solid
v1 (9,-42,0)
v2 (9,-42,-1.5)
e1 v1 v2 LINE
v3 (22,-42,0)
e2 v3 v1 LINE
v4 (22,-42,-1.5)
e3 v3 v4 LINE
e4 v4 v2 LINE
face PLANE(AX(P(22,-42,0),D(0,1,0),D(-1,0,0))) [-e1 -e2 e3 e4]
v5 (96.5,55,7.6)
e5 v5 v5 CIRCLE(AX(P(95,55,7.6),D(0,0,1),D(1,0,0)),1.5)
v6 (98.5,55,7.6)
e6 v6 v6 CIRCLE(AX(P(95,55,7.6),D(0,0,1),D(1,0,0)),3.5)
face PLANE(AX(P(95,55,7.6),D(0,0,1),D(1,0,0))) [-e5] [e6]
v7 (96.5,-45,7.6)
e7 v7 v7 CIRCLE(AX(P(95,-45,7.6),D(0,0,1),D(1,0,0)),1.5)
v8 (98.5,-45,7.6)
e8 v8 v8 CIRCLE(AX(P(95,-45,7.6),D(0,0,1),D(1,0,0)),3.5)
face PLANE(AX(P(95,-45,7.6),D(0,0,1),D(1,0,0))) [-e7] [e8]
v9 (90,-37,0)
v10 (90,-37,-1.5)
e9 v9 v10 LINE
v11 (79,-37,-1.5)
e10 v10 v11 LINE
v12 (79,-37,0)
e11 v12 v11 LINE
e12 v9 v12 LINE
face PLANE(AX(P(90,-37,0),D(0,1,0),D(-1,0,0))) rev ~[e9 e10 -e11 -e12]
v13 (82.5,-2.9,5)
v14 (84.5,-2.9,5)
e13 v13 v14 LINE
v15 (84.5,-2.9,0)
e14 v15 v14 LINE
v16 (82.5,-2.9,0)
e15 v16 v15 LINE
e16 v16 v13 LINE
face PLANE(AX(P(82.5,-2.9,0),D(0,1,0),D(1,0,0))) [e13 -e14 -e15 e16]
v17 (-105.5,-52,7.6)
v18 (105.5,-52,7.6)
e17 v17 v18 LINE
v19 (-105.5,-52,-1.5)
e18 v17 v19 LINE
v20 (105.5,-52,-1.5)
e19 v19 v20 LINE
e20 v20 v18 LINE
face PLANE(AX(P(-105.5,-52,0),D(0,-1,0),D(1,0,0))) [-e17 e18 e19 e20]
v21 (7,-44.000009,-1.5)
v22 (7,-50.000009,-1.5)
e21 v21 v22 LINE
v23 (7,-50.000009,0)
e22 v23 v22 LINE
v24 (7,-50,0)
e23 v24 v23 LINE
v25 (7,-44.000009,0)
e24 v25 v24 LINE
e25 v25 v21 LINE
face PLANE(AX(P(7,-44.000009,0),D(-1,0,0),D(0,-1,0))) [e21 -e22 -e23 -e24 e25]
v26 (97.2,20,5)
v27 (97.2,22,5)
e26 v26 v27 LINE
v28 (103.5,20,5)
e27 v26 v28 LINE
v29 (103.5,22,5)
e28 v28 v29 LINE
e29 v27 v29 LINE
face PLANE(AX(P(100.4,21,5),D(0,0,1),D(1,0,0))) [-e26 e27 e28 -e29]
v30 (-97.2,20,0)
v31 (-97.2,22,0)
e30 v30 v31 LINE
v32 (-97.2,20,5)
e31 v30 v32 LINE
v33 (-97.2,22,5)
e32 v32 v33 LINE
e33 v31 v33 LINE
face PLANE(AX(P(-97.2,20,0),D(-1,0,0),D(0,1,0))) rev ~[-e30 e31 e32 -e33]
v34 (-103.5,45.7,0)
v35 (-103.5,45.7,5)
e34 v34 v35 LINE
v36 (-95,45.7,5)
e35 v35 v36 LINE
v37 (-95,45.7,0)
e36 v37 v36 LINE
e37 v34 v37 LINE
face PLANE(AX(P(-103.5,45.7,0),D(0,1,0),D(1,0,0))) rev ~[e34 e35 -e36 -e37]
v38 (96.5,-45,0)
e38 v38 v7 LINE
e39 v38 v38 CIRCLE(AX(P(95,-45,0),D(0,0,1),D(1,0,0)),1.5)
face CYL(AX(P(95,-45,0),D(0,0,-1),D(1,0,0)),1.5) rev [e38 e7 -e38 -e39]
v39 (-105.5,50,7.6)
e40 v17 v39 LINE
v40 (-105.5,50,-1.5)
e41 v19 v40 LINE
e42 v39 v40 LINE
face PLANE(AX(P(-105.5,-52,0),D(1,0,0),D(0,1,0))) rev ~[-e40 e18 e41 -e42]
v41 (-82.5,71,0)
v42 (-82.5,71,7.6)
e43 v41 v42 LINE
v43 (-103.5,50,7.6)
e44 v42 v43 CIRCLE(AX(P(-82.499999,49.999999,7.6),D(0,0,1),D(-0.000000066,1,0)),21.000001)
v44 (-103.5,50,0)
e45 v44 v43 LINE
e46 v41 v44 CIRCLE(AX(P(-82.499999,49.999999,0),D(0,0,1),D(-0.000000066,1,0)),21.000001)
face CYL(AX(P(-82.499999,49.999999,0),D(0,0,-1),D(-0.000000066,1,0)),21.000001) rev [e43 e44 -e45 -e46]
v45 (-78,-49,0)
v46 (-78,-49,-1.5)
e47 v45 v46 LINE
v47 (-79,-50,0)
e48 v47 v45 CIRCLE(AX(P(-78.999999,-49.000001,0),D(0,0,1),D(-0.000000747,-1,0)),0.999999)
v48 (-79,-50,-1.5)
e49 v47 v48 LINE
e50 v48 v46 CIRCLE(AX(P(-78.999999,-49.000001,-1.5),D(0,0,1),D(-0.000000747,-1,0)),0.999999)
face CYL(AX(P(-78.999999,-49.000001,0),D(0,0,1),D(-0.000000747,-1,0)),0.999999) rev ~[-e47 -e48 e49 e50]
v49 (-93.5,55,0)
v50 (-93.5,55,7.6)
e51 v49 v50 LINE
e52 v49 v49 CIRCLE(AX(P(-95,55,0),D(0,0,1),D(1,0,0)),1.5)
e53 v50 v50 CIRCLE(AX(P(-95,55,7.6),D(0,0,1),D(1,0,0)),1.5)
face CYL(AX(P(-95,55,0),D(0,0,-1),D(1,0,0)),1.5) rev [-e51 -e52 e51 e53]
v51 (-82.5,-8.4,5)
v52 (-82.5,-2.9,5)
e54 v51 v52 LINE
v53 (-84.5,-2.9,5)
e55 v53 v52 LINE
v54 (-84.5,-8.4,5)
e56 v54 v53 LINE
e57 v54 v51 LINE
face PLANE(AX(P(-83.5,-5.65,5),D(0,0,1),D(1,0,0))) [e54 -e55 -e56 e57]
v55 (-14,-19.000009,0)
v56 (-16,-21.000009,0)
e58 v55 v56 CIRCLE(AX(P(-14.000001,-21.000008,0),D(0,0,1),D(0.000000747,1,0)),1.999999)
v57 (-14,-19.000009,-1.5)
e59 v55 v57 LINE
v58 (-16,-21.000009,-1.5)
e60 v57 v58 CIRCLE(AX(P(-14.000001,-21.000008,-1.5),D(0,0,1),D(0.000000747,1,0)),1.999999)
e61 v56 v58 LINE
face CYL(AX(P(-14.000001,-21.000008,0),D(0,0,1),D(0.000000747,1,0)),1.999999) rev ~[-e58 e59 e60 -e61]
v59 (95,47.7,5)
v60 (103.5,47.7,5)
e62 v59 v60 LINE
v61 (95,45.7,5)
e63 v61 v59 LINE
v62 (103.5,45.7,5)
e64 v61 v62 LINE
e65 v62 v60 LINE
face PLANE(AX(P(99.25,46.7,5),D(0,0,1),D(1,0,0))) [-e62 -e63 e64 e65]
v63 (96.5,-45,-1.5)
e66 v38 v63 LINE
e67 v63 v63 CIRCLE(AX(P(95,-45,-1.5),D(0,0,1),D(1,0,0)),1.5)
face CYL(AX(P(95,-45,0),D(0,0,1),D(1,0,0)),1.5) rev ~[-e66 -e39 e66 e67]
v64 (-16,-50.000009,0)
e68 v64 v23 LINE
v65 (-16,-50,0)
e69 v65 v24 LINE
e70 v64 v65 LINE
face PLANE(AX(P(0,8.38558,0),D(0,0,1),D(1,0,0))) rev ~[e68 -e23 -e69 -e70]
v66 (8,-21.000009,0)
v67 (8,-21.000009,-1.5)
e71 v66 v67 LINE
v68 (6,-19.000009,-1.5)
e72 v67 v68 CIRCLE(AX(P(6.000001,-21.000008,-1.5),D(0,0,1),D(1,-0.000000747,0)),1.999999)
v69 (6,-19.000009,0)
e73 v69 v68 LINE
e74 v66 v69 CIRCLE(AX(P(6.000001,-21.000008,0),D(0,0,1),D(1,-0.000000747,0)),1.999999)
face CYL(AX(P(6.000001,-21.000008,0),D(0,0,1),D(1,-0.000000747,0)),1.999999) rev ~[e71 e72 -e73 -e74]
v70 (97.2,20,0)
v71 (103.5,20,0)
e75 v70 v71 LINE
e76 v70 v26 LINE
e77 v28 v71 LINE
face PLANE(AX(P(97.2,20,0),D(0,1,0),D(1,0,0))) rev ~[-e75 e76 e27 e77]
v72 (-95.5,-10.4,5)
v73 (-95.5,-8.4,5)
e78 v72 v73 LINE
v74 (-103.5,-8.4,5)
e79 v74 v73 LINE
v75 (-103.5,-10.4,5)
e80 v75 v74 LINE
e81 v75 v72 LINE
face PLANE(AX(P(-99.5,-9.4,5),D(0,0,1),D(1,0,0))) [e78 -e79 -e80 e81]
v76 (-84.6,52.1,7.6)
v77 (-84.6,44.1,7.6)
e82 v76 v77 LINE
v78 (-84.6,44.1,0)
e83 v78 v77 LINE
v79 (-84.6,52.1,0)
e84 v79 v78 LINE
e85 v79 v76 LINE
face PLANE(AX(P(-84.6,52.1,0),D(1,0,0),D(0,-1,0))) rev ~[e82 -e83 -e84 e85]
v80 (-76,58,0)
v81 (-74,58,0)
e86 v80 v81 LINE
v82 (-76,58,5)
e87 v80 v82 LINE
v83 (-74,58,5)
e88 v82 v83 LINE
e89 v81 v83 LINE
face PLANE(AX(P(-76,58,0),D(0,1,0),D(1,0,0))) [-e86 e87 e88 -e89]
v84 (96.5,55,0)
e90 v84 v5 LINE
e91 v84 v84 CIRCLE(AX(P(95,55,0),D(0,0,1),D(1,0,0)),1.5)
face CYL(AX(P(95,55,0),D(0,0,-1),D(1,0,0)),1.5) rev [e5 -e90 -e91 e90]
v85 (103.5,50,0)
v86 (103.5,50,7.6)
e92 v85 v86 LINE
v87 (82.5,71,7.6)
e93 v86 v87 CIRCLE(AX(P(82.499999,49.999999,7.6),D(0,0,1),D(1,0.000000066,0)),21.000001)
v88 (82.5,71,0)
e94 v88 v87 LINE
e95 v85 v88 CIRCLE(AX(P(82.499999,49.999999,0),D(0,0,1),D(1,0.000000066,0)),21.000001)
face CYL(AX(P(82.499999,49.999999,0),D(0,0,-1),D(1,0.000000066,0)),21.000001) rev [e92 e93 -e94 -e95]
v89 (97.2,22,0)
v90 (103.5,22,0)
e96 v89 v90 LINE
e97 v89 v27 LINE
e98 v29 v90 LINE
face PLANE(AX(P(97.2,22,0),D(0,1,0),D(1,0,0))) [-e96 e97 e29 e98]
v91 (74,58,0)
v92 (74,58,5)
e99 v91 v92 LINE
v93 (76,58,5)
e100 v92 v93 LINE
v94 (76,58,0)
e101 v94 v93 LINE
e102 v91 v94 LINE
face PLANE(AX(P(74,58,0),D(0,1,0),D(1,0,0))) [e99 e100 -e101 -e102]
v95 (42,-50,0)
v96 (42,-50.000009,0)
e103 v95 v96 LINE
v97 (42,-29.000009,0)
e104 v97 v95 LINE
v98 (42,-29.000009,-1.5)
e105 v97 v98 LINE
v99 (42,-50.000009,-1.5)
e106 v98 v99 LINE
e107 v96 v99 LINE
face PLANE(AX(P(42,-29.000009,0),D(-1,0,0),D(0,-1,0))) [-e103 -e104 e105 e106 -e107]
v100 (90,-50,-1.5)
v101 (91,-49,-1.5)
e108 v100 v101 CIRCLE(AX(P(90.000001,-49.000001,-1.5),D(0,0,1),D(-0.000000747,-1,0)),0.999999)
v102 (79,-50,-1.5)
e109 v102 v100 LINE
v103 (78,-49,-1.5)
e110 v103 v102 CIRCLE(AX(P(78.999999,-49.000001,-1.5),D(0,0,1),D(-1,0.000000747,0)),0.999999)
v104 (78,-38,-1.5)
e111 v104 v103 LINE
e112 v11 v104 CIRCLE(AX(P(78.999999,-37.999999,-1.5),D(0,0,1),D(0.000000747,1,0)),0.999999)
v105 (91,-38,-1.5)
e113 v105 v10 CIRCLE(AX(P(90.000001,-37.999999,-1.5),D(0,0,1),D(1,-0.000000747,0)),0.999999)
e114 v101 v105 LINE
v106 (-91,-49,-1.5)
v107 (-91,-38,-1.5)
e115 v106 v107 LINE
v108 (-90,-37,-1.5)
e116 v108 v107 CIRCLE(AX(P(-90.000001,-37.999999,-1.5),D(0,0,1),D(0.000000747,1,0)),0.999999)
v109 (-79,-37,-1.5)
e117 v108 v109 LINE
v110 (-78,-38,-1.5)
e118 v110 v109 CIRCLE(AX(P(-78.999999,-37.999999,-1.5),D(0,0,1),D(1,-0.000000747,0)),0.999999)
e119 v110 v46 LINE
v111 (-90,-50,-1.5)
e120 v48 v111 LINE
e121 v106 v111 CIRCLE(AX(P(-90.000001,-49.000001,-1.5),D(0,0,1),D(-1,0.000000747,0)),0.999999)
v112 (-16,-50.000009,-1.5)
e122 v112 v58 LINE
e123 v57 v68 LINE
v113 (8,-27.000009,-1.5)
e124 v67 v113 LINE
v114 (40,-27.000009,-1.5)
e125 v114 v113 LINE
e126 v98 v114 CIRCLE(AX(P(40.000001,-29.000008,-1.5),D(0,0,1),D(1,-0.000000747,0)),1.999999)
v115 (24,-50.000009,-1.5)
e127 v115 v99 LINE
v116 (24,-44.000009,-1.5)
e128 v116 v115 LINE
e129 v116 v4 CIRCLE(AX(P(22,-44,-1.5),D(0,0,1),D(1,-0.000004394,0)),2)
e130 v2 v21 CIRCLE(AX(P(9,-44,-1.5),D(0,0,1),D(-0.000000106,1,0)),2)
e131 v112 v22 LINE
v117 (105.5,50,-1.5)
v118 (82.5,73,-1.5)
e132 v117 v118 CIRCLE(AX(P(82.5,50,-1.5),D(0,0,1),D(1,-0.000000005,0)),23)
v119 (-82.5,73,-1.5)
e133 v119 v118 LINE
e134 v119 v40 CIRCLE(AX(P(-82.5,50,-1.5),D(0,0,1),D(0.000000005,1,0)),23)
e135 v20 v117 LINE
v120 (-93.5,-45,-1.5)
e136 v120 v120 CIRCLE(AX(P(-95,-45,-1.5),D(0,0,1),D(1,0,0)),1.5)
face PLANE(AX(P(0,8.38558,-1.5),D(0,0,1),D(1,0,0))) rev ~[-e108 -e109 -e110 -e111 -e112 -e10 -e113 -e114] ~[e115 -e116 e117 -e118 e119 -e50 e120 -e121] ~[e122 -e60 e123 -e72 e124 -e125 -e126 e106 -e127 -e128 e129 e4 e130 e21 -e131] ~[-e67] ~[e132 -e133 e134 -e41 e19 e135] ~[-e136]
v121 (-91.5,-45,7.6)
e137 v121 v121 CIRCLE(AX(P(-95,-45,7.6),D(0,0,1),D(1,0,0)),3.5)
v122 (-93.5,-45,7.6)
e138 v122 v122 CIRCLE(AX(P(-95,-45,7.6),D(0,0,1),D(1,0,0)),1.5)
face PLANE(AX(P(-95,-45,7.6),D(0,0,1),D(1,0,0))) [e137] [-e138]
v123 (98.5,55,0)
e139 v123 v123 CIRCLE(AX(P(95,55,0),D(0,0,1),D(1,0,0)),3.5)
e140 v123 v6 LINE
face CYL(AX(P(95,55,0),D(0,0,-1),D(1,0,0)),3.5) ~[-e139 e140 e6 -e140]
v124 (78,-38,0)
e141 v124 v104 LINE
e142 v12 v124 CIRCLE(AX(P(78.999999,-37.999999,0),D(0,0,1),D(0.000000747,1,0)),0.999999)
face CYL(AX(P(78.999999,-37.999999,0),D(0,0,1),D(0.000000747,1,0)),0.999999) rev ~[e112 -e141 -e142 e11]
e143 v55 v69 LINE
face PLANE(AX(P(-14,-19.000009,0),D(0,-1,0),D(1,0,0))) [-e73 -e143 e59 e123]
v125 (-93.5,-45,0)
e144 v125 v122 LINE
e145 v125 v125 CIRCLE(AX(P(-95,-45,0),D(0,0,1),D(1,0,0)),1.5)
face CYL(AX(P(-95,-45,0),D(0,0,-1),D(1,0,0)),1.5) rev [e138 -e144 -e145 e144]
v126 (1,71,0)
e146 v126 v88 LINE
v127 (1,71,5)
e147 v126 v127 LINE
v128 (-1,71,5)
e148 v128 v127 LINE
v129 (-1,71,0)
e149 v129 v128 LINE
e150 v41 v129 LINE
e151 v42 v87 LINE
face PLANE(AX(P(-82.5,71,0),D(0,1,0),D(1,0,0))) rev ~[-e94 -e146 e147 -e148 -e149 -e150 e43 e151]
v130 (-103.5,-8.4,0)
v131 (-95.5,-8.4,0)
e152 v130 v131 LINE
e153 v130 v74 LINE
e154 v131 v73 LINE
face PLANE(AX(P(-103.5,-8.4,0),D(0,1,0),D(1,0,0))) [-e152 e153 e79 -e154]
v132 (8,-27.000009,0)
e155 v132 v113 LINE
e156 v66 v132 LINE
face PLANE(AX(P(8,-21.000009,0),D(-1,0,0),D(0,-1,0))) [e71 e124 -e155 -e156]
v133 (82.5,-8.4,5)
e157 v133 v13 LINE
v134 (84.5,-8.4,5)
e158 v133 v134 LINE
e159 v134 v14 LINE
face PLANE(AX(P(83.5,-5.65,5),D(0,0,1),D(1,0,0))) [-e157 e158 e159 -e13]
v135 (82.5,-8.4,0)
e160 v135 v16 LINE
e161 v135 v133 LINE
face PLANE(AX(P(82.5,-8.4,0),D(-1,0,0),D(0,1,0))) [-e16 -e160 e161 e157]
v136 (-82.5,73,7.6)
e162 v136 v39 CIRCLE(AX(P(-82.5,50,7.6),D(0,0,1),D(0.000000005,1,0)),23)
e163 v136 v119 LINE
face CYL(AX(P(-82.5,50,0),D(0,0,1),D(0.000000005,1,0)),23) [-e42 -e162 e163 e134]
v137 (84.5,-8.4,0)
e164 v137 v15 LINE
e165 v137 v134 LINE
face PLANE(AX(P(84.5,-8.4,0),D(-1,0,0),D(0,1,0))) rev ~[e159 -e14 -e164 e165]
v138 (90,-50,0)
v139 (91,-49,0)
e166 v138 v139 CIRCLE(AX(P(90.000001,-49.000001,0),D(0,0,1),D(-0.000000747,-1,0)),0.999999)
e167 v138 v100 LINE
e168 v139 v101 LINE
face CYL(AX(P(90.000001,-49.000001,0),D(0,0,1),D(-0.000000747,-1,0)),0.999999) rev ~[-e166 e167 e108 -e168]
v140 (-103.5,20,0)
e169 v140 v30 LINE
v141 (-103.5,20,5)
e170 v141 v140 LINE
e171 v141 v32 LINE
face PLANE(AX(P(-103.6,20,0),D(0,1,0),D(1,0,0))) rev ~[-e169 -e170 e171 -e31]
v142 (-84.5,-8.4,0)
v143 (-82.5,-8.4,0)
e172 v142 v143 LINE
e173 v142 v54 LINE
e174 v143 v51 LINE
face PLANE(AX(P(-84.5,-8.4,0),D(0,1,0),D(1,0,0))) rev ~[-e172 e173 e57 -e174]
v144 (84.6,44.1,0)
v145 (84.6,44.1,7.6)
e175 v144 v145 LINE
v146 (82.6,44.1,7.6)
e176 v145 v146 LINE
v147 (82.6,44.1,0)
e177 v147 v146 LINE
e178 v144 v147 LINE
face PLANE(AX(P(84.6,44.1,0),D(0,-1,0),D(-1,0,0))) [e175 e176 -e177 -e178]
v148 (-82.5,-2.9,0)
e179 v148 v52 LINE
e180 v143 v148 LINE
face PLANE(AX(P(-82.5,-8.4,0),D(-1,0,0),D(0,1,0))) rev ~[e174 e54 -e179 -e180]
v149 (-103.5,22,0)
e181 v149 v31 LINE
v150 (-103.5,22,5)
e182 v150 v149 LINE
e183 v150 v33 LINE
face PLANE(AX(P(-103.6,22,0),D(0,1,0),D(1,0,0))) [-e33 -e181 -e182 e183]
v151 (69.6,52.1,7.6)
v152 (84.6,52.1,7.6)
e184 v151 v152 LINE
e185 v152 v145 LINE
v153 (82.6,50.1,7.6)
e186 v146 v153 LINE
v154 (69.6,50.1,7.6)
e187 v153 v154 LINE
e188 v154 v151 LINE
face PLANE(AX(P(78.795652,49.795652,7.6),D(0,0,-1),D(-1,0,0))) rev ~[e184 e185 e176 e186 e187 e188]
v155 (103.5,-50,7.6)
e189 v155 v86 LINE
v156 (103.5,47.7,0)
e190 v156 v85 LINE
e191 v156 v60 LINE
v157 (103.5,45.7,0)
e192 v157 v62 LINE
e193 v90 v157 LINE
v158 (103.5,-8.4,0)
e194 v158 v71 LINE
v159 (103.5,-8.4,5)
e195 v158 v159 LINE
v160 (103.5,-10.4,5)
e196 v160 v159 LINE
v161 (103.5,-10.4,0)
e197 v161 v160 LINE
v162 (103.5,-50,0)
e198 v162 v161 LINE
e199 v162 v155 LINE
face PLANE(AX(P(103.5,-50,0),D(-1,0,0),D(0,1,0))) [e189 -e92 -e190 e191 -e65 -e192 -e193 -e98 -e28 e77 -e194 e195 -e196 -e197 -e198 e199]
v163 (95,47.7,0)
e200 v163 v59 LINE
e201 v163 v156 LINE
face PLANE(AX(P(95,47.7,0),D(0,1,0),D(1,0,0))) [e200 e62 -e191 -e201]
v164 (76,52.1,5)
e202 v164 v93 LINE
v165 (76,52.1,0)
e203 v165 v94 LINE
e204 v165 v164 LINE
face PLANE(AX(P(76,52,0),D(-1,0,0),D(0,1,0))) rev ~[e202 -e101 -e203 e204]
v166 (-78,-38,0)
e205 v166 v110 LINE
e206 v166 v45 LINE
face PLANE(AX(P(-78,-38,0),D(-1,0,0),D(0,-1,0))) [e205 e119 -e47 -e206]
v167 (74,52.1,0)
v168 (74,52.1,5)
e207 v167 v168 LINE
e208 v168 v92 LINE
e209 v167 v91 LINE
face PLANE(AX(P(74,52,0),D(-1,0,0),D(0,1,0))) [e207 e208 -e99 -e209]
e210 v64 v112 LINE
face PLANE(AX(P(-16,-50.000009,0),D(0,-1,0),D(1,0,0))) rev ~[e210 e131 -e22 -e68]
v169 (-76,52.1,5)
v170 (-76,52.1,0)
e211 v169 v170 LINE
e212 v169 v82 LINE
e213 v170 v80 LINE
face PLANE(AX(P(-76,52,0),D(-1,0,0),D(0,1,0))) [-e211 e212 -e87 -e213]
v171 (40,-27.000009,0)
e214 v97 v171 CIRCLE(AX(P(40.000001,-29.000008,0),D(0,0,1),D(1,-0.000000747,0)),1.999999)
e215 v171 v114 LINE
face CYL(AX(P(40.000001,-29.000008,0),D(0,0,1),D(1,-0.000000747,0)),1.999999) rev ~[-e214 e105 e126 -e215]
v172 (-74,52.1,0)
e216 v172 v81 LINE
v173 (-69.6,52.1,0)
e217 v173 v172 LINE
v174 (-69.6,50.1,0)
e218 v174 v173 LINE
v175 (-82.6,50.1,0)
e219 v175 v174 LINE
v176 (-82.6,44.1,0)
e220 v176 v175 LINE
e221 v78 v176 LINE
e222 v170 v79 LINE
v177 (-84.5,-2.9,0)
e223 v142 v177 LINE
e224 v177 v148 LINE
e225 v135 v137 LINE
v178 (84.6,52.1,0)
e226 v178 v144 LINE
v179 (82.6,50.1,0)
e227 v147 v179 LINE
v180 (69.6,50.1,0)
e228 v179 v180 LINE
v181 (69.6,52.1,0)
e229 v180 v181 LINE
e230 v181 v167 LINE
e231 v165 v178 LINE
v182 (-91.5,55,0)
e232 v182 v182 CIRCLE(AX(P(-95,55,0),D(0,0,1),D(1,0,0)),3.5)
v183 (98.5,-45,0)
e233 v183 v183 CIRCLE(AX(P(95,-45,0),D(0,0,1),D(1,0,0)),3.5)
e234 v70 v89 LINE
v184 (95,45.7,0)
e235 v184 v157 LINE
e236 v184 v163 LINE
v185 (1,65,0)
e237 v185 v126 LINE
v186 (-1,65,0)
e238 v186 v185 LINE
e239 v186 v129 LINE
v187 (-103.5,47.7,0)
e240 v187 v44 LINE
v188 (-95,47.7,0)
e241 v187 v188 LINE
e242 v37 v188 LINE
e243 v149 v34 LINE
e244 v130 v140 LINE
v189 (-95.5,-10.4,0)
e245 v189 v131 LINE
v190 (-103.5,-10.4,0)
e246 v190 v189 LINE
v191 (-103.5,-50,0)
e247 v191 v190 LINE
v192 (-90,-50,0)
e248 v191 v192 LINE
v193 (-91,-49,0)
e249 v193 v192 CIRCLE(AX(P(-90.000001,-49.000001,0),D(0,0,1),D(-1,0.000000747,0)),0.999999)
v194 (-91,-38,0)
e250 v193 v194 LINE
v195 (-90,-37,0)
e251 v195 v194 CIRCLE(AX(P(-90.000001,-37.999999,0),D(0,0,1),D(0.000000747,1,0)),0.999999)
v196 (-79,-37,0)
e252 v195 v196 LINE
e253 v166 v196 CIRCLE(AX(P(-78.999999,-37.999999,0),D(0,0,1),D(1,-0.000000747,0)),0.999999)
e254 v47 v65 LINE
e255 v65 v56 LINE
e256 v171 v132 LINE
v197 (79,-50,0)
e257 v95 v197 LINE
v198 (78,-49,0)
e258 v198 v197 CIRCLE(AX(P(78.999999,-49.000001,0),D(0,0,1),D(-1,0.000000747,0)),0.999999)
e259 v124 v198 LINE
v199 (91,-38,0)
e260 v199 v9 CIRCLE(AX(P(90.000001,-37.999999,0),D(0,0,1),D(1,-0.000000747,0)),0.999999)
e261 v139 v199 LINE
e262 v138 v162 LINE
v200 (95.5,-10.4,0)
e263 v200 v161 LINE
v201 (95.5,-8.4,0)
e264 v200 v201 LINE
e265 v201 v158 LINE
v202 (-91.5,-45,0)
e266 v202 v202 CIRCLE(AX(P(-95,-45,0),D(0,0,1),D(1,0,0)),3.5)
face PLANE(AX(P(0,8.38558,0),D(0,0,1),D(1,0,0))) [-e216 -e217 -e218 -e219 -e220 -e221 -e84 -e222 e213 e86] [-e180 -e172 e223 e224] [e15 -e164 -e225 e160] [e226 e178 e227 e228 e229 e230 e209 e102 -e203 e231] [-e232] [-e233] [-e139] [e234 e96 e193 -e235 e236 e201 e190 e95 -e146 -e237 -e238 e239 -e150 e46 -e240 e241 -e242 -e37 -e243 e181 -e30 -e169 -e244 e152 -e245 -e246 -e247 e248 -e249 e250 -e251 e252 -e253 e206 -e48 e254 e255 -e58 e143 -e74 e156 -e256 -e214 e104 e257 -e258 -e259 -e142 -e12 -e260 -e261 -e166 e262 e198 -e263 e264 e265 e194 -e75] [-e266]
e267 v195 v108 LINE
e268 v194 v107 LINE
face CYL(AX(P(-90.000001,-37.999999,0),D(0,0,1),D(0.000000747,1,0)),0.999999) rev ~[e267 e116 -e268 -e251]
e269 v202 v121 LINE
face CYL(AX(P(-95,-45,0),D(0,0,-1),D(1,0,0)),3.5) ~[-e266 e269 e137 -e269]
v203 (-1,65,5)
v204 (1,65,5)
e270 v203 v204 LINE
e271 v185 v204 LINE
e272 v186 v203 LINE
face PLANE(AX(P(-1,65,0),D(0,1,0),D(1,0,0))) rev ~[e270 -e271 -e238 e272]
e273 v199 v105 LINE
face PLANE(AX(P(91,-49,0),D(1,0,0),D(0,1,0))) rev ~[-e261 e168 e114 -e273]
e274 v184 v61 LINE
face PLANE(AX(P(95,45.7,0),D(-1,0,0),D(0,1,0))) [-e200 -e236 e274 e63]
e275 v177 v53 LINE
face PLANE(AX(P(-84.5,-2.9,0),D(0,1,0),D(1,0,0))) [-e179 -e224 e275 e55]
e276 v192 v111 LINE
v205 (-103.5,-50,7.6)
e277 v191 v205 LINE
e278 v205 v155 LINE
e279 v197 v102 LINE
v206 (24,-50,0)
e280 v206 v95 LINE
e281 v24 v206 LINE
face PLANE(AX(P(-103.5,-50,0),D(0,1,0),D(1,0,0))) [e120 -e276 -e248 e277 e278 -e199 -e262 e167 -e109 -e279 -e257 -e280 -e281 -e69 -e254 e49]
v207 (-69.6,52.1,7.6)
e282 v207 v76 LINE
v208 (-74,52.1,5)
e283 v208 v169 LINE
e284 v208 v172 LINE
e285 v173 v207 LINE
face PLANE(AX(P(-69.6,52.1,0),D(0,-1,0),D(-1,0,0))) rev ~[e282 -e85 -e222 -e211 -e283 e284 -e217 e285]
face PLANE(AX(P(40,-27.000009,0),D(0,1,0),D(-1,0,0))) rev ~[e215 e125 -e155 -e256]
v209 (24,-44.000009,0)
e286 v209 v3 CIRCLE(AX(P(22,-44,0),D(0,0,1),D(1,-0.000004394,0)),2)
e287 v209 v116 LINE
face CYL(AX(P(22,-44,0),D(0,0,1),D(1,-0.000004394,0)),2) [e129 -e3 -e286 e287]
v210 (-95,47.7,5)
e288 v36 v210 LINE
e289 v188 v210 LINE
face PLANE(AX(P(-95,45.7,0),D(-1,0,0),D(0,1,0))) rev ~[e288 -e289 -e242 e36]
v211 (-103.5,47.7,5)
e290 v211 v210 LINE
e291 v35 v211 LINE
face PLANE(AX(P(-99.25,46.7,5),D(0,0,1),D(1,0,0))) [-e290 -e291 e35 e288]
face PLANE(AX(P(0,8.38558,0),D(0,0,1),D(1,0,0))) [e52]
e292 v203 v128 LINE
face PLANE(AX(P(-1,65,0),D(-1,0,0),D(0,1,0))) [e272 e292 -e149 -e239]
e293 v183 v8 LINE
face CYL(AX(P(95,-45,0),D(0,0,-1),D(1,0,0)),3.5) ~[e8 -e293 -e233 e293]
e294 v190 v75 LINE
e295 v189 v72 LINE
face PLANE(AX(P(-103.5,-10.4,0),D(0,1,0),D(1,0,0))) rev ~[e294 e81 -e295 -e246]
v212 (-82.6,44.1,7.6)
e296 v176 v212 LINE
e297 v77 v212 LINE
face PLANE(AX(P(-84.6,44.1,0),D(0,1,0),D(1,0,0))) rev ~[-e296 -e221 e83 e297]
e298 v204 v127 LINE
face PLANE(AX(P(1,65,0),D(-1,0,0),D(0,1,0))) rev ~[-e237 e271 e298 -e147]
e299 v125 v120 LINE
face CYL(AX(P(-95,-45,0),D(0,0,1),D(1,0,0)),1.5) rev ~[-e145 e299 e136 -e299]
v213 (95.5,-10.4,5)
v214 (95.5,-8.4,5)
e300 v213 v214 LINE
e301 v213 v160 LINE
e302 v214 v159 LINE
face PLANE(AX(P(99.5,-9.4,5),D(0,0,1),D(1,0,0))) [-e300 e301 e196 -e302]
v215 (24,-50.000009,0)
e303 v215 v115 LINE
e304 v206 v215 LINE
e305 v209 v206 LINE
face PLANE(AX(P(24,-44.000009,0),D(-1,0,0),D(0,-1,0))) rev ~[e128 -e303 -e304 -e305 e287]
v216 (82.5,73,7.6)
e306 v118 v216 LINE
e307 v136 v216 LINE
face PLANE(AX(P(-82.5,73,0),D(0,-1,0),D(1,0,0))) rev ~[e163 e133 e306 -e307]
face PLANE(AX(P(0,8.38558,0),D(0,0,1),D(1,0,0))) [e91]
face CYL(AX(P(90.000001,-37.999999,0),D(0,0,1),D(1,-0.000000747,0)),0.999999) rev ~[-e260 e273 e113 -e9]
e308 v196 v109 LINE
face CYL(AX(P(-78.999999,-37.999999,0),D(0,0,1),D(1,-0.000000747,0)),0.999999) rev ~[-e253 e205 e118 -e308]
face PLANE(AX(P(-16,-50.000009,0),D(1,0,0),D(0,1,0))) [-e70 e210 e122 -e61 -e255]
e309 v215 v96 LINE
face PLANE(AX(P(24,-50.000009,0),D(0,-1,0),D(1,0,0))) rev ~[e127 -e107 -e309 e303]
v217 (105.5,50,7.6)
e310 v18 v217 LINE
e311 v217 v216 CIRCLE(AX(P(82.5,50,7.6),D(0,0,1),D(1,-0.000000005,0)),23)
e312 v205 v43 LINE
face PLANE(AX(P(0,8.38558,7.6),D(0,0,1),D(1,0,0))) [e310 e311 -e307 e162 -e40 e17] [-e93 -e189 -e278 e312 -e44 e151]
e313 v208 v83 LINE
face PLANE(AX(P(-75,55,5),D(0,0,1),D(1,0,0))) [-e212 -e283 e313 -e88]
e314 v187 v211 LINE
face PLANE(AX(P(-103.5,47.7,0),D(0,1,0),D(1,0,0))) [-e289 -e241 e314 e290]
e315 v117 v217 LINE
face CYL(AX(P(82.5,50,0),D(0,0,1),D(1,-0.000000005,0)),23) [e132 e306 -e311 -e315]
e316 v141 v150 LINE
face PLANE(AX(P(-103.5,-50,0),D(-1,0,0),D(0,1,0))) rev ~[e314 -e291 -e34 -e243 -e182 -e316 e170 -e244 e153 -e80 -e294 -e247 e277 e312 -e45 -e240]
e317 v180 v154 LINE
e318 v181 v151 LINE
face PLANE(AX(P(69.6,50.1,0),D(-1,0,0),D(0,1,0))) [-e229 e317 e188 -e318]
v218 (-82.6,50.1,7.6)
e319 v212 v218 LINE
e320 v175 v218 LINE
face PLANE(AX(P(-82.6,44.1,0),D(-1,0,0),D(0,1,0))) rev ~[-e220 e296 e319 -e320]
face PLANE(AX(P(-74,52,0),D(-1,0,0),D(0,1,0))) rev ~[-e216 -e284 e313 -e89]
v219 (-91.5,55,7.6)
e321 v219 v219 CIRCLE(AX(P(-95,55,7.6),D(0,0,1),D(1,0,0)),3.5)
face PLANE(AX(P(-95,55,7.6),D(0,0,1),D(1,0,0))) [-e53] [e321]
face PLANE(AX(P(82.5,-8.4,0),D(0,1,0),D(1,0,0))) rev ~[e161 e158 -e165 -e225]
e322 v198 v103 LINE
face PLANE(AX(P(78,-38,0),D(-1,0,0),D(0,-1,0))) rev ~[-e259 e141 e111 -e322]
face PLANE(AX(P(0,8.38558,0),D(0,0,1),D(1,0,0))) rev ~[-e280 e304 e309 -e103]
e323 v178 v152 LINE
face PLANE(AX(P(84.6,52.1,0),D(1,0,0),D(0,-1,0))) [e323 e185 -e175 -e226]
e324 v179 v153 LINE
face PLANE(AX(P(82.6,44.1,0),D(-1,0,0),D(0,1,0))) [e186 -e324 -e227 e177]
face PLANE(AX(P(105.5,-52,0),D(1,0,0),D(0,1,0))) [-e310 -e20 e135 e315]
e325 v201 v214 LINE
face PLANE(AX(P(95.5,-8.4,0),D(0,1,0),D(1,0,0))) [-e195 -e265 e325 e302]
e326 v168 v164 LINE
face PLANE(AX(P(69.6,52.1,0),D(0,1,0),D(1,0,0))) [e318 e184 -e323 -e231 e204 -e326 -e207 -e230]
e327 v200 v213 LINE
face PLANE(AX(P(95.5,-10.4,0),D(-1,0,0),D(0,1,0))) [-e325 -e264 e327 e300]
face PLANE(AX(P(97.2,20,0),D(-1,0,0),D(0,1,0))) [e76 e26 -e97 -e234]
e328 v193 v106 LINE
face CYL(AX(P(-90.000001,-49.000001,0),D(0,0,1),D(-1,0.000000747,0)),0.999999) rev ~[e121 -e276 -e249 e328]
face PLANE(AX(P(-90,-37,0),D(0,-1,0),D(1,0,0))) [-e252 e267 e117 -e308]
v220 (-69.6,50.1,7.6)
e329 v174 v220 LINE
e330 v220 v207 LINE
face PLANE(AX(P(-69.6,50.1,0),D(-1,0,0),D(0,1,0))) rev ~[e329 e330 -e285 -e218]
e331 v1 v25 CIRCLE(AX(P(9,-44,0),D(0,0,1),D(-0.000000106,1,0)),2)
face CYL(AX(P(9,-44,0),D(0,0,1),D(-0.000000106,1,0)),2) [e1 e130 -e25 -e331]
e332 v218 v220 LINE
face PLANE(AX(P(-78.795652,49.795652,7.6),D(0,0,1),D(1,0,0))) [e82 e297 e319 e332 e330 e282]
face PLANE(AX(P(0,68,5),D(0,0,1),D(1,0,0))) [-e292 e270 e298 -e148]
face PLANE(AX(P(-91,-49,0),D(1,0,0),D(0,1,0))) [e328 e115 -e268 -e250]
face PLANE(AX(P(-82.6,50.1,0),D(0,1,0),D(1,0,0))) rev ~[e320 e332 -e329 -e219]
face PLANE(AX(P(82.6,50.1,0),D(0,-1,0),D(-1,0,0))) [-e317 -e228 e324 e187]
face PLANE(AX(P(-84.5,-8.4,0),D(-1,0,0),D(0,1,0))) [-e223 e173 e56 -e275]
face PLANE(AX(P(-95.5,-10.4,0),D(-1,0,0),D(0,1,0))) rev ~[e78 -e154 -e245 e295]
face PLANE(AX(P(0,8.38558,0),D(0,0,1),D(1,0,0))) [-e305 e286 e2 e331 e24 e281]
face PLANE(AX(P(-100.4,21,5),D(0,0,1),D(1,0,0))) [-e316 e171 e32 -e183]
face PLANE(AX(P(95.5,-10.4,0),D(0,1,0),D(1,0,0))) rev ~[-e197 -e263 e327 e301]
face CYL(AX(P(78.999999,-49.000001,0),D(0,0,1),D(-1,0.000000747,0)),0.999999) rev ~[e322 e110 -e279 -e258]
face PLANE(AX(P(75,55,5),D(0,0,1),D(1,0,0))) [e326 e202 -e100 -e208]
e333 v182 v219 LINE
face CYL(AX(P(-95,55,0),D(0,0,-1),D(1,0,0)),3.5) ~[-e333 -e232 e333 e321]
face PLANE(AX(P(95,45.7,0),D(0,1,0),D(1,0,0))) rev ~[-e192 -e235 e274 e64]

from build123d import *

# Parameters (mm, degrees)
SKETCH004_W      = 8.5
SKETCH004_H      = 2
SKETCH004_W_2    = 8
SKETCH004_W_3    = 2
SKETCH004_H_2    = 5.5
SKETCH004_H_3    = 6
SKETCH004_W_4    = 6.4
EXTRUDE001_DEPTH = 5
SKETCH002_R      = 1.5
PAD001_DEPTH     = 1.5
SKETCH003_R      = 3.5
SKETCH003_R_2    = 1.5
EXTRUDE_DEPTH    = 7.6


with BuildPart() as extrude001:
    # Sketch004 → Extrude001 (new body)
    with BuildSketch(Plane.XY):
        with Locations((-99.25, 46.7)):
            Rectangle(SKETCH004_W, SKETCH004_H)
        with Locations((99.25, 46.7)):
            Rectangle(SKETCH004_W, SKETCH004_H)
        with Locations((-99.5, -9.4)):
            Rectangle(SKETCH004_W_2, SKETCH004_H)
        with Locations((-83.5, -5.65)):
            Rectangle(SKETCH004_W_3, SKETCH004_H_2)
        with Locations((99.5, -9.4)):
            Rectangle(SKETCH004_W_2, SKETCH004_H)
        with Locations((83.5, -5.65)):
            Rectangle(SKETCH004_W_3, SKETCH004_H_2)
        with Locations((-75, 55)):
            Rectangle(SKETCH004_W_3, SKETCH004_H_3)
        with Locations((75, 55)):
            Rectangle(SKETCH004_W_3, SKETCH004_H_3)
        with Locations((-100.4, 21)):
            Rectangle(SKETCH004_W_4, SKETCH004_H)
        with Locations((100.4, 21)):
            Rectangle(SKETCH004_W_4, SKETCH004_H)
        with Locations((0, 68)):
            Rectangle(SKETCH004_W_3, SKETCH004_H_3)
    extrude(amount=EXTRUDE001_DEPTH)


with BuildPart() as body:
    # Sketch002 → Pad001 (new body)
    with BuildSketch(Plane.XY):
        with BuildLine():
            Line((-105.5, -52), (105.5, -52))
            Line((105.5, -52), (105.5, 50))
            ThreePointArc((105.5, 50), (98.763456, 66.263456), (82.5, 73))
            Line((-82.5, 73), (82.5, 73))
            ThreePointArc((-82.5, 73), (-98.763456, 66.263456), (-105.5, 50))
            Line((-105.5, -52), (-105.5, 50))
        make_face()
        with Locations((-95, -45)):
            Circle(SKETCH002_R, mode=Mode.SUBTRACT)
        with Locations((95, -45)):
            Circle(SKETCH002_R, mode=Mode.SUBTRACT)
        with BuildLine():
            Line((-14, -19.000009), (6, -19.000009))
            ThreePointArc((8, -21.000009), (7.414214, -19.585795), (6, -19.000009))
            Line((8, -21.000009), (8, -27.000009))
            Line((40, -27.000009), (8, -27.000009))
            ThreePointArc((42, -29.000009), (41.414214, -27.585795), (40, -27.000009))
            Line((42, -29.000009), (42, -50.000009))
            Line((24, -50.000009), (42, -50.000009))
            Line((24, -44.000009), (24, -50.000009))
            ThreePointArc((24, -44.000009), (23.414217, -42.58579), (22, -42))
            Line((22, -42), (9, -42))
            ThreePointArc((9, -42), (7.585783, -42.58579), (7, -44.000009))
            Line((7, -44.000009), (7, -50.000009))
            Line((-16, -50.000009), (7, -50.000009))
            Line((-16, -50.000009), (-16, -21.000009))
            ThreePointArc((-14, -19.000009), (-15.414214, -19.585795), (-16, -21.000009))
        make_face(mode=Mode.SUBTRACT)
        with BuildLine():
            ThreePointArc((-90, -37), (-90.707107, -37.292893), (-91, -38))
            Line((-91, -49), (-91, -38))
            ThreePointArc((-91, -49), (-90.707107, -49.707107), (-90, -50))
            Line((-79, -50), (-90, -50))
            ThreePointArc((-79, -50), (-78.292893, -49.707107), (-78, -49))
            Line((-78, -38), (-78, -49))
            ThreePointArc((-78, -38), (-78.292893, -37.292893), (-79, -37))
            Line((-90, -37), (-79, -37))
        make_face(mode=Mode.SUBTRACT)
        with BuildLine():
            ThreePointArc((91, -38), (90.707107, -37.292893), (90, -37))
            Line((90, -37), (79, -37))
            ThreePointArc((79, -37), (78.292893, -37.292893), (78, -38))
            Line((78, -38), (78, -49))
            ThreePointArc((78, -49), (78.292893, -49.707107), (79, -50))
            Line((79, -50), (90, -50))
            ThreePointArc((90, -50), (90.707107, -49.707107), (91, -49))
            Line((91, -49), (91, -38))
        make_face(mode=Mode.SUBTRACT)
    extrude(amount=-PAD001_DEPTH)


with BuildPart() as main:
    # Sketch003 → Extrude (new body)
    with BuildSketch(Plane.XY):
        with BuildLine():
            Line((-105.5, -52), (105.5, -52))
            Line((105.5, -52), (105.5, 50))
            ThreePointArc((105.5, 50), (98.763456, 66.263456), (82.5, 73))
            Line((-82.5, 73), (82.5, 73))
            ThreePointArc((-82.5, 73), (-98.763456, 66.263456), (-105.5, 50))
            Line((-105.5, -52), (-105.5, 50))
        make_face()
        with BuildLine():
            Line((-103.5, -50), (103.5, -50))
            Line((103.5, -50), (103.5, 50))
            ThreePointArc((103.5, 50), (97.349242, 64.849242), (82.5, 71))
            Line((-82.5, 71), (82.5, 71))
            ThreePointArc((-82.5, 71), (-97.349242, 64.849242), (-103.5, 50))
            Line((-103.5, -50), (-103.5, 50))
        make_face(mode=Mode.SUBTRACT)
        with Locations((-95, -45)):
            Circle(SKETCH003_R)
        with Locations((-95, -45)):
            Circle(SKETCH003_R_2, mode=Mode.SUBTRACT)
        with Locations((95, -45)):
            Circle(SKETCH003_R)
        with Locations((95, -45)):
            Circle(SKETCH003_R_2, mode=Mode.SUBTRACT)
        with Locations((-95, 55)):
            Circle(SKETCH003_R)
        with Locations((-95, 55)):
            Circle(SKETCH003_R_2, mode=Mode.SUBTRACT)
        with Locations((95, 55)):
            Circle(SKETCH003_R)
        with Locations((95, 55)):
            Circle(SKETCH003_R_2, mode=Mode.SUBTRACT)
        Polygon((-84.6, 44.1), (-82.6, 44.1), (-82.6, 50.1), (-69.6, 50.1), (-69.6, 52.1), (-84.6, 52.1), align=None)
        Polygon((84.6, 44.1), (82.6, 44.1), (82.6, 50.1), (69.6, 50.1), (69.6, 52.1), (84.6, 52.1), align=None)
    extrude(amount=EXTRUDE_DEPTH)

    # Fusion: union Body
    add(body.part)

    # Fusion001: union Extrude001
    add(extrude001.part)


solid = main.part
